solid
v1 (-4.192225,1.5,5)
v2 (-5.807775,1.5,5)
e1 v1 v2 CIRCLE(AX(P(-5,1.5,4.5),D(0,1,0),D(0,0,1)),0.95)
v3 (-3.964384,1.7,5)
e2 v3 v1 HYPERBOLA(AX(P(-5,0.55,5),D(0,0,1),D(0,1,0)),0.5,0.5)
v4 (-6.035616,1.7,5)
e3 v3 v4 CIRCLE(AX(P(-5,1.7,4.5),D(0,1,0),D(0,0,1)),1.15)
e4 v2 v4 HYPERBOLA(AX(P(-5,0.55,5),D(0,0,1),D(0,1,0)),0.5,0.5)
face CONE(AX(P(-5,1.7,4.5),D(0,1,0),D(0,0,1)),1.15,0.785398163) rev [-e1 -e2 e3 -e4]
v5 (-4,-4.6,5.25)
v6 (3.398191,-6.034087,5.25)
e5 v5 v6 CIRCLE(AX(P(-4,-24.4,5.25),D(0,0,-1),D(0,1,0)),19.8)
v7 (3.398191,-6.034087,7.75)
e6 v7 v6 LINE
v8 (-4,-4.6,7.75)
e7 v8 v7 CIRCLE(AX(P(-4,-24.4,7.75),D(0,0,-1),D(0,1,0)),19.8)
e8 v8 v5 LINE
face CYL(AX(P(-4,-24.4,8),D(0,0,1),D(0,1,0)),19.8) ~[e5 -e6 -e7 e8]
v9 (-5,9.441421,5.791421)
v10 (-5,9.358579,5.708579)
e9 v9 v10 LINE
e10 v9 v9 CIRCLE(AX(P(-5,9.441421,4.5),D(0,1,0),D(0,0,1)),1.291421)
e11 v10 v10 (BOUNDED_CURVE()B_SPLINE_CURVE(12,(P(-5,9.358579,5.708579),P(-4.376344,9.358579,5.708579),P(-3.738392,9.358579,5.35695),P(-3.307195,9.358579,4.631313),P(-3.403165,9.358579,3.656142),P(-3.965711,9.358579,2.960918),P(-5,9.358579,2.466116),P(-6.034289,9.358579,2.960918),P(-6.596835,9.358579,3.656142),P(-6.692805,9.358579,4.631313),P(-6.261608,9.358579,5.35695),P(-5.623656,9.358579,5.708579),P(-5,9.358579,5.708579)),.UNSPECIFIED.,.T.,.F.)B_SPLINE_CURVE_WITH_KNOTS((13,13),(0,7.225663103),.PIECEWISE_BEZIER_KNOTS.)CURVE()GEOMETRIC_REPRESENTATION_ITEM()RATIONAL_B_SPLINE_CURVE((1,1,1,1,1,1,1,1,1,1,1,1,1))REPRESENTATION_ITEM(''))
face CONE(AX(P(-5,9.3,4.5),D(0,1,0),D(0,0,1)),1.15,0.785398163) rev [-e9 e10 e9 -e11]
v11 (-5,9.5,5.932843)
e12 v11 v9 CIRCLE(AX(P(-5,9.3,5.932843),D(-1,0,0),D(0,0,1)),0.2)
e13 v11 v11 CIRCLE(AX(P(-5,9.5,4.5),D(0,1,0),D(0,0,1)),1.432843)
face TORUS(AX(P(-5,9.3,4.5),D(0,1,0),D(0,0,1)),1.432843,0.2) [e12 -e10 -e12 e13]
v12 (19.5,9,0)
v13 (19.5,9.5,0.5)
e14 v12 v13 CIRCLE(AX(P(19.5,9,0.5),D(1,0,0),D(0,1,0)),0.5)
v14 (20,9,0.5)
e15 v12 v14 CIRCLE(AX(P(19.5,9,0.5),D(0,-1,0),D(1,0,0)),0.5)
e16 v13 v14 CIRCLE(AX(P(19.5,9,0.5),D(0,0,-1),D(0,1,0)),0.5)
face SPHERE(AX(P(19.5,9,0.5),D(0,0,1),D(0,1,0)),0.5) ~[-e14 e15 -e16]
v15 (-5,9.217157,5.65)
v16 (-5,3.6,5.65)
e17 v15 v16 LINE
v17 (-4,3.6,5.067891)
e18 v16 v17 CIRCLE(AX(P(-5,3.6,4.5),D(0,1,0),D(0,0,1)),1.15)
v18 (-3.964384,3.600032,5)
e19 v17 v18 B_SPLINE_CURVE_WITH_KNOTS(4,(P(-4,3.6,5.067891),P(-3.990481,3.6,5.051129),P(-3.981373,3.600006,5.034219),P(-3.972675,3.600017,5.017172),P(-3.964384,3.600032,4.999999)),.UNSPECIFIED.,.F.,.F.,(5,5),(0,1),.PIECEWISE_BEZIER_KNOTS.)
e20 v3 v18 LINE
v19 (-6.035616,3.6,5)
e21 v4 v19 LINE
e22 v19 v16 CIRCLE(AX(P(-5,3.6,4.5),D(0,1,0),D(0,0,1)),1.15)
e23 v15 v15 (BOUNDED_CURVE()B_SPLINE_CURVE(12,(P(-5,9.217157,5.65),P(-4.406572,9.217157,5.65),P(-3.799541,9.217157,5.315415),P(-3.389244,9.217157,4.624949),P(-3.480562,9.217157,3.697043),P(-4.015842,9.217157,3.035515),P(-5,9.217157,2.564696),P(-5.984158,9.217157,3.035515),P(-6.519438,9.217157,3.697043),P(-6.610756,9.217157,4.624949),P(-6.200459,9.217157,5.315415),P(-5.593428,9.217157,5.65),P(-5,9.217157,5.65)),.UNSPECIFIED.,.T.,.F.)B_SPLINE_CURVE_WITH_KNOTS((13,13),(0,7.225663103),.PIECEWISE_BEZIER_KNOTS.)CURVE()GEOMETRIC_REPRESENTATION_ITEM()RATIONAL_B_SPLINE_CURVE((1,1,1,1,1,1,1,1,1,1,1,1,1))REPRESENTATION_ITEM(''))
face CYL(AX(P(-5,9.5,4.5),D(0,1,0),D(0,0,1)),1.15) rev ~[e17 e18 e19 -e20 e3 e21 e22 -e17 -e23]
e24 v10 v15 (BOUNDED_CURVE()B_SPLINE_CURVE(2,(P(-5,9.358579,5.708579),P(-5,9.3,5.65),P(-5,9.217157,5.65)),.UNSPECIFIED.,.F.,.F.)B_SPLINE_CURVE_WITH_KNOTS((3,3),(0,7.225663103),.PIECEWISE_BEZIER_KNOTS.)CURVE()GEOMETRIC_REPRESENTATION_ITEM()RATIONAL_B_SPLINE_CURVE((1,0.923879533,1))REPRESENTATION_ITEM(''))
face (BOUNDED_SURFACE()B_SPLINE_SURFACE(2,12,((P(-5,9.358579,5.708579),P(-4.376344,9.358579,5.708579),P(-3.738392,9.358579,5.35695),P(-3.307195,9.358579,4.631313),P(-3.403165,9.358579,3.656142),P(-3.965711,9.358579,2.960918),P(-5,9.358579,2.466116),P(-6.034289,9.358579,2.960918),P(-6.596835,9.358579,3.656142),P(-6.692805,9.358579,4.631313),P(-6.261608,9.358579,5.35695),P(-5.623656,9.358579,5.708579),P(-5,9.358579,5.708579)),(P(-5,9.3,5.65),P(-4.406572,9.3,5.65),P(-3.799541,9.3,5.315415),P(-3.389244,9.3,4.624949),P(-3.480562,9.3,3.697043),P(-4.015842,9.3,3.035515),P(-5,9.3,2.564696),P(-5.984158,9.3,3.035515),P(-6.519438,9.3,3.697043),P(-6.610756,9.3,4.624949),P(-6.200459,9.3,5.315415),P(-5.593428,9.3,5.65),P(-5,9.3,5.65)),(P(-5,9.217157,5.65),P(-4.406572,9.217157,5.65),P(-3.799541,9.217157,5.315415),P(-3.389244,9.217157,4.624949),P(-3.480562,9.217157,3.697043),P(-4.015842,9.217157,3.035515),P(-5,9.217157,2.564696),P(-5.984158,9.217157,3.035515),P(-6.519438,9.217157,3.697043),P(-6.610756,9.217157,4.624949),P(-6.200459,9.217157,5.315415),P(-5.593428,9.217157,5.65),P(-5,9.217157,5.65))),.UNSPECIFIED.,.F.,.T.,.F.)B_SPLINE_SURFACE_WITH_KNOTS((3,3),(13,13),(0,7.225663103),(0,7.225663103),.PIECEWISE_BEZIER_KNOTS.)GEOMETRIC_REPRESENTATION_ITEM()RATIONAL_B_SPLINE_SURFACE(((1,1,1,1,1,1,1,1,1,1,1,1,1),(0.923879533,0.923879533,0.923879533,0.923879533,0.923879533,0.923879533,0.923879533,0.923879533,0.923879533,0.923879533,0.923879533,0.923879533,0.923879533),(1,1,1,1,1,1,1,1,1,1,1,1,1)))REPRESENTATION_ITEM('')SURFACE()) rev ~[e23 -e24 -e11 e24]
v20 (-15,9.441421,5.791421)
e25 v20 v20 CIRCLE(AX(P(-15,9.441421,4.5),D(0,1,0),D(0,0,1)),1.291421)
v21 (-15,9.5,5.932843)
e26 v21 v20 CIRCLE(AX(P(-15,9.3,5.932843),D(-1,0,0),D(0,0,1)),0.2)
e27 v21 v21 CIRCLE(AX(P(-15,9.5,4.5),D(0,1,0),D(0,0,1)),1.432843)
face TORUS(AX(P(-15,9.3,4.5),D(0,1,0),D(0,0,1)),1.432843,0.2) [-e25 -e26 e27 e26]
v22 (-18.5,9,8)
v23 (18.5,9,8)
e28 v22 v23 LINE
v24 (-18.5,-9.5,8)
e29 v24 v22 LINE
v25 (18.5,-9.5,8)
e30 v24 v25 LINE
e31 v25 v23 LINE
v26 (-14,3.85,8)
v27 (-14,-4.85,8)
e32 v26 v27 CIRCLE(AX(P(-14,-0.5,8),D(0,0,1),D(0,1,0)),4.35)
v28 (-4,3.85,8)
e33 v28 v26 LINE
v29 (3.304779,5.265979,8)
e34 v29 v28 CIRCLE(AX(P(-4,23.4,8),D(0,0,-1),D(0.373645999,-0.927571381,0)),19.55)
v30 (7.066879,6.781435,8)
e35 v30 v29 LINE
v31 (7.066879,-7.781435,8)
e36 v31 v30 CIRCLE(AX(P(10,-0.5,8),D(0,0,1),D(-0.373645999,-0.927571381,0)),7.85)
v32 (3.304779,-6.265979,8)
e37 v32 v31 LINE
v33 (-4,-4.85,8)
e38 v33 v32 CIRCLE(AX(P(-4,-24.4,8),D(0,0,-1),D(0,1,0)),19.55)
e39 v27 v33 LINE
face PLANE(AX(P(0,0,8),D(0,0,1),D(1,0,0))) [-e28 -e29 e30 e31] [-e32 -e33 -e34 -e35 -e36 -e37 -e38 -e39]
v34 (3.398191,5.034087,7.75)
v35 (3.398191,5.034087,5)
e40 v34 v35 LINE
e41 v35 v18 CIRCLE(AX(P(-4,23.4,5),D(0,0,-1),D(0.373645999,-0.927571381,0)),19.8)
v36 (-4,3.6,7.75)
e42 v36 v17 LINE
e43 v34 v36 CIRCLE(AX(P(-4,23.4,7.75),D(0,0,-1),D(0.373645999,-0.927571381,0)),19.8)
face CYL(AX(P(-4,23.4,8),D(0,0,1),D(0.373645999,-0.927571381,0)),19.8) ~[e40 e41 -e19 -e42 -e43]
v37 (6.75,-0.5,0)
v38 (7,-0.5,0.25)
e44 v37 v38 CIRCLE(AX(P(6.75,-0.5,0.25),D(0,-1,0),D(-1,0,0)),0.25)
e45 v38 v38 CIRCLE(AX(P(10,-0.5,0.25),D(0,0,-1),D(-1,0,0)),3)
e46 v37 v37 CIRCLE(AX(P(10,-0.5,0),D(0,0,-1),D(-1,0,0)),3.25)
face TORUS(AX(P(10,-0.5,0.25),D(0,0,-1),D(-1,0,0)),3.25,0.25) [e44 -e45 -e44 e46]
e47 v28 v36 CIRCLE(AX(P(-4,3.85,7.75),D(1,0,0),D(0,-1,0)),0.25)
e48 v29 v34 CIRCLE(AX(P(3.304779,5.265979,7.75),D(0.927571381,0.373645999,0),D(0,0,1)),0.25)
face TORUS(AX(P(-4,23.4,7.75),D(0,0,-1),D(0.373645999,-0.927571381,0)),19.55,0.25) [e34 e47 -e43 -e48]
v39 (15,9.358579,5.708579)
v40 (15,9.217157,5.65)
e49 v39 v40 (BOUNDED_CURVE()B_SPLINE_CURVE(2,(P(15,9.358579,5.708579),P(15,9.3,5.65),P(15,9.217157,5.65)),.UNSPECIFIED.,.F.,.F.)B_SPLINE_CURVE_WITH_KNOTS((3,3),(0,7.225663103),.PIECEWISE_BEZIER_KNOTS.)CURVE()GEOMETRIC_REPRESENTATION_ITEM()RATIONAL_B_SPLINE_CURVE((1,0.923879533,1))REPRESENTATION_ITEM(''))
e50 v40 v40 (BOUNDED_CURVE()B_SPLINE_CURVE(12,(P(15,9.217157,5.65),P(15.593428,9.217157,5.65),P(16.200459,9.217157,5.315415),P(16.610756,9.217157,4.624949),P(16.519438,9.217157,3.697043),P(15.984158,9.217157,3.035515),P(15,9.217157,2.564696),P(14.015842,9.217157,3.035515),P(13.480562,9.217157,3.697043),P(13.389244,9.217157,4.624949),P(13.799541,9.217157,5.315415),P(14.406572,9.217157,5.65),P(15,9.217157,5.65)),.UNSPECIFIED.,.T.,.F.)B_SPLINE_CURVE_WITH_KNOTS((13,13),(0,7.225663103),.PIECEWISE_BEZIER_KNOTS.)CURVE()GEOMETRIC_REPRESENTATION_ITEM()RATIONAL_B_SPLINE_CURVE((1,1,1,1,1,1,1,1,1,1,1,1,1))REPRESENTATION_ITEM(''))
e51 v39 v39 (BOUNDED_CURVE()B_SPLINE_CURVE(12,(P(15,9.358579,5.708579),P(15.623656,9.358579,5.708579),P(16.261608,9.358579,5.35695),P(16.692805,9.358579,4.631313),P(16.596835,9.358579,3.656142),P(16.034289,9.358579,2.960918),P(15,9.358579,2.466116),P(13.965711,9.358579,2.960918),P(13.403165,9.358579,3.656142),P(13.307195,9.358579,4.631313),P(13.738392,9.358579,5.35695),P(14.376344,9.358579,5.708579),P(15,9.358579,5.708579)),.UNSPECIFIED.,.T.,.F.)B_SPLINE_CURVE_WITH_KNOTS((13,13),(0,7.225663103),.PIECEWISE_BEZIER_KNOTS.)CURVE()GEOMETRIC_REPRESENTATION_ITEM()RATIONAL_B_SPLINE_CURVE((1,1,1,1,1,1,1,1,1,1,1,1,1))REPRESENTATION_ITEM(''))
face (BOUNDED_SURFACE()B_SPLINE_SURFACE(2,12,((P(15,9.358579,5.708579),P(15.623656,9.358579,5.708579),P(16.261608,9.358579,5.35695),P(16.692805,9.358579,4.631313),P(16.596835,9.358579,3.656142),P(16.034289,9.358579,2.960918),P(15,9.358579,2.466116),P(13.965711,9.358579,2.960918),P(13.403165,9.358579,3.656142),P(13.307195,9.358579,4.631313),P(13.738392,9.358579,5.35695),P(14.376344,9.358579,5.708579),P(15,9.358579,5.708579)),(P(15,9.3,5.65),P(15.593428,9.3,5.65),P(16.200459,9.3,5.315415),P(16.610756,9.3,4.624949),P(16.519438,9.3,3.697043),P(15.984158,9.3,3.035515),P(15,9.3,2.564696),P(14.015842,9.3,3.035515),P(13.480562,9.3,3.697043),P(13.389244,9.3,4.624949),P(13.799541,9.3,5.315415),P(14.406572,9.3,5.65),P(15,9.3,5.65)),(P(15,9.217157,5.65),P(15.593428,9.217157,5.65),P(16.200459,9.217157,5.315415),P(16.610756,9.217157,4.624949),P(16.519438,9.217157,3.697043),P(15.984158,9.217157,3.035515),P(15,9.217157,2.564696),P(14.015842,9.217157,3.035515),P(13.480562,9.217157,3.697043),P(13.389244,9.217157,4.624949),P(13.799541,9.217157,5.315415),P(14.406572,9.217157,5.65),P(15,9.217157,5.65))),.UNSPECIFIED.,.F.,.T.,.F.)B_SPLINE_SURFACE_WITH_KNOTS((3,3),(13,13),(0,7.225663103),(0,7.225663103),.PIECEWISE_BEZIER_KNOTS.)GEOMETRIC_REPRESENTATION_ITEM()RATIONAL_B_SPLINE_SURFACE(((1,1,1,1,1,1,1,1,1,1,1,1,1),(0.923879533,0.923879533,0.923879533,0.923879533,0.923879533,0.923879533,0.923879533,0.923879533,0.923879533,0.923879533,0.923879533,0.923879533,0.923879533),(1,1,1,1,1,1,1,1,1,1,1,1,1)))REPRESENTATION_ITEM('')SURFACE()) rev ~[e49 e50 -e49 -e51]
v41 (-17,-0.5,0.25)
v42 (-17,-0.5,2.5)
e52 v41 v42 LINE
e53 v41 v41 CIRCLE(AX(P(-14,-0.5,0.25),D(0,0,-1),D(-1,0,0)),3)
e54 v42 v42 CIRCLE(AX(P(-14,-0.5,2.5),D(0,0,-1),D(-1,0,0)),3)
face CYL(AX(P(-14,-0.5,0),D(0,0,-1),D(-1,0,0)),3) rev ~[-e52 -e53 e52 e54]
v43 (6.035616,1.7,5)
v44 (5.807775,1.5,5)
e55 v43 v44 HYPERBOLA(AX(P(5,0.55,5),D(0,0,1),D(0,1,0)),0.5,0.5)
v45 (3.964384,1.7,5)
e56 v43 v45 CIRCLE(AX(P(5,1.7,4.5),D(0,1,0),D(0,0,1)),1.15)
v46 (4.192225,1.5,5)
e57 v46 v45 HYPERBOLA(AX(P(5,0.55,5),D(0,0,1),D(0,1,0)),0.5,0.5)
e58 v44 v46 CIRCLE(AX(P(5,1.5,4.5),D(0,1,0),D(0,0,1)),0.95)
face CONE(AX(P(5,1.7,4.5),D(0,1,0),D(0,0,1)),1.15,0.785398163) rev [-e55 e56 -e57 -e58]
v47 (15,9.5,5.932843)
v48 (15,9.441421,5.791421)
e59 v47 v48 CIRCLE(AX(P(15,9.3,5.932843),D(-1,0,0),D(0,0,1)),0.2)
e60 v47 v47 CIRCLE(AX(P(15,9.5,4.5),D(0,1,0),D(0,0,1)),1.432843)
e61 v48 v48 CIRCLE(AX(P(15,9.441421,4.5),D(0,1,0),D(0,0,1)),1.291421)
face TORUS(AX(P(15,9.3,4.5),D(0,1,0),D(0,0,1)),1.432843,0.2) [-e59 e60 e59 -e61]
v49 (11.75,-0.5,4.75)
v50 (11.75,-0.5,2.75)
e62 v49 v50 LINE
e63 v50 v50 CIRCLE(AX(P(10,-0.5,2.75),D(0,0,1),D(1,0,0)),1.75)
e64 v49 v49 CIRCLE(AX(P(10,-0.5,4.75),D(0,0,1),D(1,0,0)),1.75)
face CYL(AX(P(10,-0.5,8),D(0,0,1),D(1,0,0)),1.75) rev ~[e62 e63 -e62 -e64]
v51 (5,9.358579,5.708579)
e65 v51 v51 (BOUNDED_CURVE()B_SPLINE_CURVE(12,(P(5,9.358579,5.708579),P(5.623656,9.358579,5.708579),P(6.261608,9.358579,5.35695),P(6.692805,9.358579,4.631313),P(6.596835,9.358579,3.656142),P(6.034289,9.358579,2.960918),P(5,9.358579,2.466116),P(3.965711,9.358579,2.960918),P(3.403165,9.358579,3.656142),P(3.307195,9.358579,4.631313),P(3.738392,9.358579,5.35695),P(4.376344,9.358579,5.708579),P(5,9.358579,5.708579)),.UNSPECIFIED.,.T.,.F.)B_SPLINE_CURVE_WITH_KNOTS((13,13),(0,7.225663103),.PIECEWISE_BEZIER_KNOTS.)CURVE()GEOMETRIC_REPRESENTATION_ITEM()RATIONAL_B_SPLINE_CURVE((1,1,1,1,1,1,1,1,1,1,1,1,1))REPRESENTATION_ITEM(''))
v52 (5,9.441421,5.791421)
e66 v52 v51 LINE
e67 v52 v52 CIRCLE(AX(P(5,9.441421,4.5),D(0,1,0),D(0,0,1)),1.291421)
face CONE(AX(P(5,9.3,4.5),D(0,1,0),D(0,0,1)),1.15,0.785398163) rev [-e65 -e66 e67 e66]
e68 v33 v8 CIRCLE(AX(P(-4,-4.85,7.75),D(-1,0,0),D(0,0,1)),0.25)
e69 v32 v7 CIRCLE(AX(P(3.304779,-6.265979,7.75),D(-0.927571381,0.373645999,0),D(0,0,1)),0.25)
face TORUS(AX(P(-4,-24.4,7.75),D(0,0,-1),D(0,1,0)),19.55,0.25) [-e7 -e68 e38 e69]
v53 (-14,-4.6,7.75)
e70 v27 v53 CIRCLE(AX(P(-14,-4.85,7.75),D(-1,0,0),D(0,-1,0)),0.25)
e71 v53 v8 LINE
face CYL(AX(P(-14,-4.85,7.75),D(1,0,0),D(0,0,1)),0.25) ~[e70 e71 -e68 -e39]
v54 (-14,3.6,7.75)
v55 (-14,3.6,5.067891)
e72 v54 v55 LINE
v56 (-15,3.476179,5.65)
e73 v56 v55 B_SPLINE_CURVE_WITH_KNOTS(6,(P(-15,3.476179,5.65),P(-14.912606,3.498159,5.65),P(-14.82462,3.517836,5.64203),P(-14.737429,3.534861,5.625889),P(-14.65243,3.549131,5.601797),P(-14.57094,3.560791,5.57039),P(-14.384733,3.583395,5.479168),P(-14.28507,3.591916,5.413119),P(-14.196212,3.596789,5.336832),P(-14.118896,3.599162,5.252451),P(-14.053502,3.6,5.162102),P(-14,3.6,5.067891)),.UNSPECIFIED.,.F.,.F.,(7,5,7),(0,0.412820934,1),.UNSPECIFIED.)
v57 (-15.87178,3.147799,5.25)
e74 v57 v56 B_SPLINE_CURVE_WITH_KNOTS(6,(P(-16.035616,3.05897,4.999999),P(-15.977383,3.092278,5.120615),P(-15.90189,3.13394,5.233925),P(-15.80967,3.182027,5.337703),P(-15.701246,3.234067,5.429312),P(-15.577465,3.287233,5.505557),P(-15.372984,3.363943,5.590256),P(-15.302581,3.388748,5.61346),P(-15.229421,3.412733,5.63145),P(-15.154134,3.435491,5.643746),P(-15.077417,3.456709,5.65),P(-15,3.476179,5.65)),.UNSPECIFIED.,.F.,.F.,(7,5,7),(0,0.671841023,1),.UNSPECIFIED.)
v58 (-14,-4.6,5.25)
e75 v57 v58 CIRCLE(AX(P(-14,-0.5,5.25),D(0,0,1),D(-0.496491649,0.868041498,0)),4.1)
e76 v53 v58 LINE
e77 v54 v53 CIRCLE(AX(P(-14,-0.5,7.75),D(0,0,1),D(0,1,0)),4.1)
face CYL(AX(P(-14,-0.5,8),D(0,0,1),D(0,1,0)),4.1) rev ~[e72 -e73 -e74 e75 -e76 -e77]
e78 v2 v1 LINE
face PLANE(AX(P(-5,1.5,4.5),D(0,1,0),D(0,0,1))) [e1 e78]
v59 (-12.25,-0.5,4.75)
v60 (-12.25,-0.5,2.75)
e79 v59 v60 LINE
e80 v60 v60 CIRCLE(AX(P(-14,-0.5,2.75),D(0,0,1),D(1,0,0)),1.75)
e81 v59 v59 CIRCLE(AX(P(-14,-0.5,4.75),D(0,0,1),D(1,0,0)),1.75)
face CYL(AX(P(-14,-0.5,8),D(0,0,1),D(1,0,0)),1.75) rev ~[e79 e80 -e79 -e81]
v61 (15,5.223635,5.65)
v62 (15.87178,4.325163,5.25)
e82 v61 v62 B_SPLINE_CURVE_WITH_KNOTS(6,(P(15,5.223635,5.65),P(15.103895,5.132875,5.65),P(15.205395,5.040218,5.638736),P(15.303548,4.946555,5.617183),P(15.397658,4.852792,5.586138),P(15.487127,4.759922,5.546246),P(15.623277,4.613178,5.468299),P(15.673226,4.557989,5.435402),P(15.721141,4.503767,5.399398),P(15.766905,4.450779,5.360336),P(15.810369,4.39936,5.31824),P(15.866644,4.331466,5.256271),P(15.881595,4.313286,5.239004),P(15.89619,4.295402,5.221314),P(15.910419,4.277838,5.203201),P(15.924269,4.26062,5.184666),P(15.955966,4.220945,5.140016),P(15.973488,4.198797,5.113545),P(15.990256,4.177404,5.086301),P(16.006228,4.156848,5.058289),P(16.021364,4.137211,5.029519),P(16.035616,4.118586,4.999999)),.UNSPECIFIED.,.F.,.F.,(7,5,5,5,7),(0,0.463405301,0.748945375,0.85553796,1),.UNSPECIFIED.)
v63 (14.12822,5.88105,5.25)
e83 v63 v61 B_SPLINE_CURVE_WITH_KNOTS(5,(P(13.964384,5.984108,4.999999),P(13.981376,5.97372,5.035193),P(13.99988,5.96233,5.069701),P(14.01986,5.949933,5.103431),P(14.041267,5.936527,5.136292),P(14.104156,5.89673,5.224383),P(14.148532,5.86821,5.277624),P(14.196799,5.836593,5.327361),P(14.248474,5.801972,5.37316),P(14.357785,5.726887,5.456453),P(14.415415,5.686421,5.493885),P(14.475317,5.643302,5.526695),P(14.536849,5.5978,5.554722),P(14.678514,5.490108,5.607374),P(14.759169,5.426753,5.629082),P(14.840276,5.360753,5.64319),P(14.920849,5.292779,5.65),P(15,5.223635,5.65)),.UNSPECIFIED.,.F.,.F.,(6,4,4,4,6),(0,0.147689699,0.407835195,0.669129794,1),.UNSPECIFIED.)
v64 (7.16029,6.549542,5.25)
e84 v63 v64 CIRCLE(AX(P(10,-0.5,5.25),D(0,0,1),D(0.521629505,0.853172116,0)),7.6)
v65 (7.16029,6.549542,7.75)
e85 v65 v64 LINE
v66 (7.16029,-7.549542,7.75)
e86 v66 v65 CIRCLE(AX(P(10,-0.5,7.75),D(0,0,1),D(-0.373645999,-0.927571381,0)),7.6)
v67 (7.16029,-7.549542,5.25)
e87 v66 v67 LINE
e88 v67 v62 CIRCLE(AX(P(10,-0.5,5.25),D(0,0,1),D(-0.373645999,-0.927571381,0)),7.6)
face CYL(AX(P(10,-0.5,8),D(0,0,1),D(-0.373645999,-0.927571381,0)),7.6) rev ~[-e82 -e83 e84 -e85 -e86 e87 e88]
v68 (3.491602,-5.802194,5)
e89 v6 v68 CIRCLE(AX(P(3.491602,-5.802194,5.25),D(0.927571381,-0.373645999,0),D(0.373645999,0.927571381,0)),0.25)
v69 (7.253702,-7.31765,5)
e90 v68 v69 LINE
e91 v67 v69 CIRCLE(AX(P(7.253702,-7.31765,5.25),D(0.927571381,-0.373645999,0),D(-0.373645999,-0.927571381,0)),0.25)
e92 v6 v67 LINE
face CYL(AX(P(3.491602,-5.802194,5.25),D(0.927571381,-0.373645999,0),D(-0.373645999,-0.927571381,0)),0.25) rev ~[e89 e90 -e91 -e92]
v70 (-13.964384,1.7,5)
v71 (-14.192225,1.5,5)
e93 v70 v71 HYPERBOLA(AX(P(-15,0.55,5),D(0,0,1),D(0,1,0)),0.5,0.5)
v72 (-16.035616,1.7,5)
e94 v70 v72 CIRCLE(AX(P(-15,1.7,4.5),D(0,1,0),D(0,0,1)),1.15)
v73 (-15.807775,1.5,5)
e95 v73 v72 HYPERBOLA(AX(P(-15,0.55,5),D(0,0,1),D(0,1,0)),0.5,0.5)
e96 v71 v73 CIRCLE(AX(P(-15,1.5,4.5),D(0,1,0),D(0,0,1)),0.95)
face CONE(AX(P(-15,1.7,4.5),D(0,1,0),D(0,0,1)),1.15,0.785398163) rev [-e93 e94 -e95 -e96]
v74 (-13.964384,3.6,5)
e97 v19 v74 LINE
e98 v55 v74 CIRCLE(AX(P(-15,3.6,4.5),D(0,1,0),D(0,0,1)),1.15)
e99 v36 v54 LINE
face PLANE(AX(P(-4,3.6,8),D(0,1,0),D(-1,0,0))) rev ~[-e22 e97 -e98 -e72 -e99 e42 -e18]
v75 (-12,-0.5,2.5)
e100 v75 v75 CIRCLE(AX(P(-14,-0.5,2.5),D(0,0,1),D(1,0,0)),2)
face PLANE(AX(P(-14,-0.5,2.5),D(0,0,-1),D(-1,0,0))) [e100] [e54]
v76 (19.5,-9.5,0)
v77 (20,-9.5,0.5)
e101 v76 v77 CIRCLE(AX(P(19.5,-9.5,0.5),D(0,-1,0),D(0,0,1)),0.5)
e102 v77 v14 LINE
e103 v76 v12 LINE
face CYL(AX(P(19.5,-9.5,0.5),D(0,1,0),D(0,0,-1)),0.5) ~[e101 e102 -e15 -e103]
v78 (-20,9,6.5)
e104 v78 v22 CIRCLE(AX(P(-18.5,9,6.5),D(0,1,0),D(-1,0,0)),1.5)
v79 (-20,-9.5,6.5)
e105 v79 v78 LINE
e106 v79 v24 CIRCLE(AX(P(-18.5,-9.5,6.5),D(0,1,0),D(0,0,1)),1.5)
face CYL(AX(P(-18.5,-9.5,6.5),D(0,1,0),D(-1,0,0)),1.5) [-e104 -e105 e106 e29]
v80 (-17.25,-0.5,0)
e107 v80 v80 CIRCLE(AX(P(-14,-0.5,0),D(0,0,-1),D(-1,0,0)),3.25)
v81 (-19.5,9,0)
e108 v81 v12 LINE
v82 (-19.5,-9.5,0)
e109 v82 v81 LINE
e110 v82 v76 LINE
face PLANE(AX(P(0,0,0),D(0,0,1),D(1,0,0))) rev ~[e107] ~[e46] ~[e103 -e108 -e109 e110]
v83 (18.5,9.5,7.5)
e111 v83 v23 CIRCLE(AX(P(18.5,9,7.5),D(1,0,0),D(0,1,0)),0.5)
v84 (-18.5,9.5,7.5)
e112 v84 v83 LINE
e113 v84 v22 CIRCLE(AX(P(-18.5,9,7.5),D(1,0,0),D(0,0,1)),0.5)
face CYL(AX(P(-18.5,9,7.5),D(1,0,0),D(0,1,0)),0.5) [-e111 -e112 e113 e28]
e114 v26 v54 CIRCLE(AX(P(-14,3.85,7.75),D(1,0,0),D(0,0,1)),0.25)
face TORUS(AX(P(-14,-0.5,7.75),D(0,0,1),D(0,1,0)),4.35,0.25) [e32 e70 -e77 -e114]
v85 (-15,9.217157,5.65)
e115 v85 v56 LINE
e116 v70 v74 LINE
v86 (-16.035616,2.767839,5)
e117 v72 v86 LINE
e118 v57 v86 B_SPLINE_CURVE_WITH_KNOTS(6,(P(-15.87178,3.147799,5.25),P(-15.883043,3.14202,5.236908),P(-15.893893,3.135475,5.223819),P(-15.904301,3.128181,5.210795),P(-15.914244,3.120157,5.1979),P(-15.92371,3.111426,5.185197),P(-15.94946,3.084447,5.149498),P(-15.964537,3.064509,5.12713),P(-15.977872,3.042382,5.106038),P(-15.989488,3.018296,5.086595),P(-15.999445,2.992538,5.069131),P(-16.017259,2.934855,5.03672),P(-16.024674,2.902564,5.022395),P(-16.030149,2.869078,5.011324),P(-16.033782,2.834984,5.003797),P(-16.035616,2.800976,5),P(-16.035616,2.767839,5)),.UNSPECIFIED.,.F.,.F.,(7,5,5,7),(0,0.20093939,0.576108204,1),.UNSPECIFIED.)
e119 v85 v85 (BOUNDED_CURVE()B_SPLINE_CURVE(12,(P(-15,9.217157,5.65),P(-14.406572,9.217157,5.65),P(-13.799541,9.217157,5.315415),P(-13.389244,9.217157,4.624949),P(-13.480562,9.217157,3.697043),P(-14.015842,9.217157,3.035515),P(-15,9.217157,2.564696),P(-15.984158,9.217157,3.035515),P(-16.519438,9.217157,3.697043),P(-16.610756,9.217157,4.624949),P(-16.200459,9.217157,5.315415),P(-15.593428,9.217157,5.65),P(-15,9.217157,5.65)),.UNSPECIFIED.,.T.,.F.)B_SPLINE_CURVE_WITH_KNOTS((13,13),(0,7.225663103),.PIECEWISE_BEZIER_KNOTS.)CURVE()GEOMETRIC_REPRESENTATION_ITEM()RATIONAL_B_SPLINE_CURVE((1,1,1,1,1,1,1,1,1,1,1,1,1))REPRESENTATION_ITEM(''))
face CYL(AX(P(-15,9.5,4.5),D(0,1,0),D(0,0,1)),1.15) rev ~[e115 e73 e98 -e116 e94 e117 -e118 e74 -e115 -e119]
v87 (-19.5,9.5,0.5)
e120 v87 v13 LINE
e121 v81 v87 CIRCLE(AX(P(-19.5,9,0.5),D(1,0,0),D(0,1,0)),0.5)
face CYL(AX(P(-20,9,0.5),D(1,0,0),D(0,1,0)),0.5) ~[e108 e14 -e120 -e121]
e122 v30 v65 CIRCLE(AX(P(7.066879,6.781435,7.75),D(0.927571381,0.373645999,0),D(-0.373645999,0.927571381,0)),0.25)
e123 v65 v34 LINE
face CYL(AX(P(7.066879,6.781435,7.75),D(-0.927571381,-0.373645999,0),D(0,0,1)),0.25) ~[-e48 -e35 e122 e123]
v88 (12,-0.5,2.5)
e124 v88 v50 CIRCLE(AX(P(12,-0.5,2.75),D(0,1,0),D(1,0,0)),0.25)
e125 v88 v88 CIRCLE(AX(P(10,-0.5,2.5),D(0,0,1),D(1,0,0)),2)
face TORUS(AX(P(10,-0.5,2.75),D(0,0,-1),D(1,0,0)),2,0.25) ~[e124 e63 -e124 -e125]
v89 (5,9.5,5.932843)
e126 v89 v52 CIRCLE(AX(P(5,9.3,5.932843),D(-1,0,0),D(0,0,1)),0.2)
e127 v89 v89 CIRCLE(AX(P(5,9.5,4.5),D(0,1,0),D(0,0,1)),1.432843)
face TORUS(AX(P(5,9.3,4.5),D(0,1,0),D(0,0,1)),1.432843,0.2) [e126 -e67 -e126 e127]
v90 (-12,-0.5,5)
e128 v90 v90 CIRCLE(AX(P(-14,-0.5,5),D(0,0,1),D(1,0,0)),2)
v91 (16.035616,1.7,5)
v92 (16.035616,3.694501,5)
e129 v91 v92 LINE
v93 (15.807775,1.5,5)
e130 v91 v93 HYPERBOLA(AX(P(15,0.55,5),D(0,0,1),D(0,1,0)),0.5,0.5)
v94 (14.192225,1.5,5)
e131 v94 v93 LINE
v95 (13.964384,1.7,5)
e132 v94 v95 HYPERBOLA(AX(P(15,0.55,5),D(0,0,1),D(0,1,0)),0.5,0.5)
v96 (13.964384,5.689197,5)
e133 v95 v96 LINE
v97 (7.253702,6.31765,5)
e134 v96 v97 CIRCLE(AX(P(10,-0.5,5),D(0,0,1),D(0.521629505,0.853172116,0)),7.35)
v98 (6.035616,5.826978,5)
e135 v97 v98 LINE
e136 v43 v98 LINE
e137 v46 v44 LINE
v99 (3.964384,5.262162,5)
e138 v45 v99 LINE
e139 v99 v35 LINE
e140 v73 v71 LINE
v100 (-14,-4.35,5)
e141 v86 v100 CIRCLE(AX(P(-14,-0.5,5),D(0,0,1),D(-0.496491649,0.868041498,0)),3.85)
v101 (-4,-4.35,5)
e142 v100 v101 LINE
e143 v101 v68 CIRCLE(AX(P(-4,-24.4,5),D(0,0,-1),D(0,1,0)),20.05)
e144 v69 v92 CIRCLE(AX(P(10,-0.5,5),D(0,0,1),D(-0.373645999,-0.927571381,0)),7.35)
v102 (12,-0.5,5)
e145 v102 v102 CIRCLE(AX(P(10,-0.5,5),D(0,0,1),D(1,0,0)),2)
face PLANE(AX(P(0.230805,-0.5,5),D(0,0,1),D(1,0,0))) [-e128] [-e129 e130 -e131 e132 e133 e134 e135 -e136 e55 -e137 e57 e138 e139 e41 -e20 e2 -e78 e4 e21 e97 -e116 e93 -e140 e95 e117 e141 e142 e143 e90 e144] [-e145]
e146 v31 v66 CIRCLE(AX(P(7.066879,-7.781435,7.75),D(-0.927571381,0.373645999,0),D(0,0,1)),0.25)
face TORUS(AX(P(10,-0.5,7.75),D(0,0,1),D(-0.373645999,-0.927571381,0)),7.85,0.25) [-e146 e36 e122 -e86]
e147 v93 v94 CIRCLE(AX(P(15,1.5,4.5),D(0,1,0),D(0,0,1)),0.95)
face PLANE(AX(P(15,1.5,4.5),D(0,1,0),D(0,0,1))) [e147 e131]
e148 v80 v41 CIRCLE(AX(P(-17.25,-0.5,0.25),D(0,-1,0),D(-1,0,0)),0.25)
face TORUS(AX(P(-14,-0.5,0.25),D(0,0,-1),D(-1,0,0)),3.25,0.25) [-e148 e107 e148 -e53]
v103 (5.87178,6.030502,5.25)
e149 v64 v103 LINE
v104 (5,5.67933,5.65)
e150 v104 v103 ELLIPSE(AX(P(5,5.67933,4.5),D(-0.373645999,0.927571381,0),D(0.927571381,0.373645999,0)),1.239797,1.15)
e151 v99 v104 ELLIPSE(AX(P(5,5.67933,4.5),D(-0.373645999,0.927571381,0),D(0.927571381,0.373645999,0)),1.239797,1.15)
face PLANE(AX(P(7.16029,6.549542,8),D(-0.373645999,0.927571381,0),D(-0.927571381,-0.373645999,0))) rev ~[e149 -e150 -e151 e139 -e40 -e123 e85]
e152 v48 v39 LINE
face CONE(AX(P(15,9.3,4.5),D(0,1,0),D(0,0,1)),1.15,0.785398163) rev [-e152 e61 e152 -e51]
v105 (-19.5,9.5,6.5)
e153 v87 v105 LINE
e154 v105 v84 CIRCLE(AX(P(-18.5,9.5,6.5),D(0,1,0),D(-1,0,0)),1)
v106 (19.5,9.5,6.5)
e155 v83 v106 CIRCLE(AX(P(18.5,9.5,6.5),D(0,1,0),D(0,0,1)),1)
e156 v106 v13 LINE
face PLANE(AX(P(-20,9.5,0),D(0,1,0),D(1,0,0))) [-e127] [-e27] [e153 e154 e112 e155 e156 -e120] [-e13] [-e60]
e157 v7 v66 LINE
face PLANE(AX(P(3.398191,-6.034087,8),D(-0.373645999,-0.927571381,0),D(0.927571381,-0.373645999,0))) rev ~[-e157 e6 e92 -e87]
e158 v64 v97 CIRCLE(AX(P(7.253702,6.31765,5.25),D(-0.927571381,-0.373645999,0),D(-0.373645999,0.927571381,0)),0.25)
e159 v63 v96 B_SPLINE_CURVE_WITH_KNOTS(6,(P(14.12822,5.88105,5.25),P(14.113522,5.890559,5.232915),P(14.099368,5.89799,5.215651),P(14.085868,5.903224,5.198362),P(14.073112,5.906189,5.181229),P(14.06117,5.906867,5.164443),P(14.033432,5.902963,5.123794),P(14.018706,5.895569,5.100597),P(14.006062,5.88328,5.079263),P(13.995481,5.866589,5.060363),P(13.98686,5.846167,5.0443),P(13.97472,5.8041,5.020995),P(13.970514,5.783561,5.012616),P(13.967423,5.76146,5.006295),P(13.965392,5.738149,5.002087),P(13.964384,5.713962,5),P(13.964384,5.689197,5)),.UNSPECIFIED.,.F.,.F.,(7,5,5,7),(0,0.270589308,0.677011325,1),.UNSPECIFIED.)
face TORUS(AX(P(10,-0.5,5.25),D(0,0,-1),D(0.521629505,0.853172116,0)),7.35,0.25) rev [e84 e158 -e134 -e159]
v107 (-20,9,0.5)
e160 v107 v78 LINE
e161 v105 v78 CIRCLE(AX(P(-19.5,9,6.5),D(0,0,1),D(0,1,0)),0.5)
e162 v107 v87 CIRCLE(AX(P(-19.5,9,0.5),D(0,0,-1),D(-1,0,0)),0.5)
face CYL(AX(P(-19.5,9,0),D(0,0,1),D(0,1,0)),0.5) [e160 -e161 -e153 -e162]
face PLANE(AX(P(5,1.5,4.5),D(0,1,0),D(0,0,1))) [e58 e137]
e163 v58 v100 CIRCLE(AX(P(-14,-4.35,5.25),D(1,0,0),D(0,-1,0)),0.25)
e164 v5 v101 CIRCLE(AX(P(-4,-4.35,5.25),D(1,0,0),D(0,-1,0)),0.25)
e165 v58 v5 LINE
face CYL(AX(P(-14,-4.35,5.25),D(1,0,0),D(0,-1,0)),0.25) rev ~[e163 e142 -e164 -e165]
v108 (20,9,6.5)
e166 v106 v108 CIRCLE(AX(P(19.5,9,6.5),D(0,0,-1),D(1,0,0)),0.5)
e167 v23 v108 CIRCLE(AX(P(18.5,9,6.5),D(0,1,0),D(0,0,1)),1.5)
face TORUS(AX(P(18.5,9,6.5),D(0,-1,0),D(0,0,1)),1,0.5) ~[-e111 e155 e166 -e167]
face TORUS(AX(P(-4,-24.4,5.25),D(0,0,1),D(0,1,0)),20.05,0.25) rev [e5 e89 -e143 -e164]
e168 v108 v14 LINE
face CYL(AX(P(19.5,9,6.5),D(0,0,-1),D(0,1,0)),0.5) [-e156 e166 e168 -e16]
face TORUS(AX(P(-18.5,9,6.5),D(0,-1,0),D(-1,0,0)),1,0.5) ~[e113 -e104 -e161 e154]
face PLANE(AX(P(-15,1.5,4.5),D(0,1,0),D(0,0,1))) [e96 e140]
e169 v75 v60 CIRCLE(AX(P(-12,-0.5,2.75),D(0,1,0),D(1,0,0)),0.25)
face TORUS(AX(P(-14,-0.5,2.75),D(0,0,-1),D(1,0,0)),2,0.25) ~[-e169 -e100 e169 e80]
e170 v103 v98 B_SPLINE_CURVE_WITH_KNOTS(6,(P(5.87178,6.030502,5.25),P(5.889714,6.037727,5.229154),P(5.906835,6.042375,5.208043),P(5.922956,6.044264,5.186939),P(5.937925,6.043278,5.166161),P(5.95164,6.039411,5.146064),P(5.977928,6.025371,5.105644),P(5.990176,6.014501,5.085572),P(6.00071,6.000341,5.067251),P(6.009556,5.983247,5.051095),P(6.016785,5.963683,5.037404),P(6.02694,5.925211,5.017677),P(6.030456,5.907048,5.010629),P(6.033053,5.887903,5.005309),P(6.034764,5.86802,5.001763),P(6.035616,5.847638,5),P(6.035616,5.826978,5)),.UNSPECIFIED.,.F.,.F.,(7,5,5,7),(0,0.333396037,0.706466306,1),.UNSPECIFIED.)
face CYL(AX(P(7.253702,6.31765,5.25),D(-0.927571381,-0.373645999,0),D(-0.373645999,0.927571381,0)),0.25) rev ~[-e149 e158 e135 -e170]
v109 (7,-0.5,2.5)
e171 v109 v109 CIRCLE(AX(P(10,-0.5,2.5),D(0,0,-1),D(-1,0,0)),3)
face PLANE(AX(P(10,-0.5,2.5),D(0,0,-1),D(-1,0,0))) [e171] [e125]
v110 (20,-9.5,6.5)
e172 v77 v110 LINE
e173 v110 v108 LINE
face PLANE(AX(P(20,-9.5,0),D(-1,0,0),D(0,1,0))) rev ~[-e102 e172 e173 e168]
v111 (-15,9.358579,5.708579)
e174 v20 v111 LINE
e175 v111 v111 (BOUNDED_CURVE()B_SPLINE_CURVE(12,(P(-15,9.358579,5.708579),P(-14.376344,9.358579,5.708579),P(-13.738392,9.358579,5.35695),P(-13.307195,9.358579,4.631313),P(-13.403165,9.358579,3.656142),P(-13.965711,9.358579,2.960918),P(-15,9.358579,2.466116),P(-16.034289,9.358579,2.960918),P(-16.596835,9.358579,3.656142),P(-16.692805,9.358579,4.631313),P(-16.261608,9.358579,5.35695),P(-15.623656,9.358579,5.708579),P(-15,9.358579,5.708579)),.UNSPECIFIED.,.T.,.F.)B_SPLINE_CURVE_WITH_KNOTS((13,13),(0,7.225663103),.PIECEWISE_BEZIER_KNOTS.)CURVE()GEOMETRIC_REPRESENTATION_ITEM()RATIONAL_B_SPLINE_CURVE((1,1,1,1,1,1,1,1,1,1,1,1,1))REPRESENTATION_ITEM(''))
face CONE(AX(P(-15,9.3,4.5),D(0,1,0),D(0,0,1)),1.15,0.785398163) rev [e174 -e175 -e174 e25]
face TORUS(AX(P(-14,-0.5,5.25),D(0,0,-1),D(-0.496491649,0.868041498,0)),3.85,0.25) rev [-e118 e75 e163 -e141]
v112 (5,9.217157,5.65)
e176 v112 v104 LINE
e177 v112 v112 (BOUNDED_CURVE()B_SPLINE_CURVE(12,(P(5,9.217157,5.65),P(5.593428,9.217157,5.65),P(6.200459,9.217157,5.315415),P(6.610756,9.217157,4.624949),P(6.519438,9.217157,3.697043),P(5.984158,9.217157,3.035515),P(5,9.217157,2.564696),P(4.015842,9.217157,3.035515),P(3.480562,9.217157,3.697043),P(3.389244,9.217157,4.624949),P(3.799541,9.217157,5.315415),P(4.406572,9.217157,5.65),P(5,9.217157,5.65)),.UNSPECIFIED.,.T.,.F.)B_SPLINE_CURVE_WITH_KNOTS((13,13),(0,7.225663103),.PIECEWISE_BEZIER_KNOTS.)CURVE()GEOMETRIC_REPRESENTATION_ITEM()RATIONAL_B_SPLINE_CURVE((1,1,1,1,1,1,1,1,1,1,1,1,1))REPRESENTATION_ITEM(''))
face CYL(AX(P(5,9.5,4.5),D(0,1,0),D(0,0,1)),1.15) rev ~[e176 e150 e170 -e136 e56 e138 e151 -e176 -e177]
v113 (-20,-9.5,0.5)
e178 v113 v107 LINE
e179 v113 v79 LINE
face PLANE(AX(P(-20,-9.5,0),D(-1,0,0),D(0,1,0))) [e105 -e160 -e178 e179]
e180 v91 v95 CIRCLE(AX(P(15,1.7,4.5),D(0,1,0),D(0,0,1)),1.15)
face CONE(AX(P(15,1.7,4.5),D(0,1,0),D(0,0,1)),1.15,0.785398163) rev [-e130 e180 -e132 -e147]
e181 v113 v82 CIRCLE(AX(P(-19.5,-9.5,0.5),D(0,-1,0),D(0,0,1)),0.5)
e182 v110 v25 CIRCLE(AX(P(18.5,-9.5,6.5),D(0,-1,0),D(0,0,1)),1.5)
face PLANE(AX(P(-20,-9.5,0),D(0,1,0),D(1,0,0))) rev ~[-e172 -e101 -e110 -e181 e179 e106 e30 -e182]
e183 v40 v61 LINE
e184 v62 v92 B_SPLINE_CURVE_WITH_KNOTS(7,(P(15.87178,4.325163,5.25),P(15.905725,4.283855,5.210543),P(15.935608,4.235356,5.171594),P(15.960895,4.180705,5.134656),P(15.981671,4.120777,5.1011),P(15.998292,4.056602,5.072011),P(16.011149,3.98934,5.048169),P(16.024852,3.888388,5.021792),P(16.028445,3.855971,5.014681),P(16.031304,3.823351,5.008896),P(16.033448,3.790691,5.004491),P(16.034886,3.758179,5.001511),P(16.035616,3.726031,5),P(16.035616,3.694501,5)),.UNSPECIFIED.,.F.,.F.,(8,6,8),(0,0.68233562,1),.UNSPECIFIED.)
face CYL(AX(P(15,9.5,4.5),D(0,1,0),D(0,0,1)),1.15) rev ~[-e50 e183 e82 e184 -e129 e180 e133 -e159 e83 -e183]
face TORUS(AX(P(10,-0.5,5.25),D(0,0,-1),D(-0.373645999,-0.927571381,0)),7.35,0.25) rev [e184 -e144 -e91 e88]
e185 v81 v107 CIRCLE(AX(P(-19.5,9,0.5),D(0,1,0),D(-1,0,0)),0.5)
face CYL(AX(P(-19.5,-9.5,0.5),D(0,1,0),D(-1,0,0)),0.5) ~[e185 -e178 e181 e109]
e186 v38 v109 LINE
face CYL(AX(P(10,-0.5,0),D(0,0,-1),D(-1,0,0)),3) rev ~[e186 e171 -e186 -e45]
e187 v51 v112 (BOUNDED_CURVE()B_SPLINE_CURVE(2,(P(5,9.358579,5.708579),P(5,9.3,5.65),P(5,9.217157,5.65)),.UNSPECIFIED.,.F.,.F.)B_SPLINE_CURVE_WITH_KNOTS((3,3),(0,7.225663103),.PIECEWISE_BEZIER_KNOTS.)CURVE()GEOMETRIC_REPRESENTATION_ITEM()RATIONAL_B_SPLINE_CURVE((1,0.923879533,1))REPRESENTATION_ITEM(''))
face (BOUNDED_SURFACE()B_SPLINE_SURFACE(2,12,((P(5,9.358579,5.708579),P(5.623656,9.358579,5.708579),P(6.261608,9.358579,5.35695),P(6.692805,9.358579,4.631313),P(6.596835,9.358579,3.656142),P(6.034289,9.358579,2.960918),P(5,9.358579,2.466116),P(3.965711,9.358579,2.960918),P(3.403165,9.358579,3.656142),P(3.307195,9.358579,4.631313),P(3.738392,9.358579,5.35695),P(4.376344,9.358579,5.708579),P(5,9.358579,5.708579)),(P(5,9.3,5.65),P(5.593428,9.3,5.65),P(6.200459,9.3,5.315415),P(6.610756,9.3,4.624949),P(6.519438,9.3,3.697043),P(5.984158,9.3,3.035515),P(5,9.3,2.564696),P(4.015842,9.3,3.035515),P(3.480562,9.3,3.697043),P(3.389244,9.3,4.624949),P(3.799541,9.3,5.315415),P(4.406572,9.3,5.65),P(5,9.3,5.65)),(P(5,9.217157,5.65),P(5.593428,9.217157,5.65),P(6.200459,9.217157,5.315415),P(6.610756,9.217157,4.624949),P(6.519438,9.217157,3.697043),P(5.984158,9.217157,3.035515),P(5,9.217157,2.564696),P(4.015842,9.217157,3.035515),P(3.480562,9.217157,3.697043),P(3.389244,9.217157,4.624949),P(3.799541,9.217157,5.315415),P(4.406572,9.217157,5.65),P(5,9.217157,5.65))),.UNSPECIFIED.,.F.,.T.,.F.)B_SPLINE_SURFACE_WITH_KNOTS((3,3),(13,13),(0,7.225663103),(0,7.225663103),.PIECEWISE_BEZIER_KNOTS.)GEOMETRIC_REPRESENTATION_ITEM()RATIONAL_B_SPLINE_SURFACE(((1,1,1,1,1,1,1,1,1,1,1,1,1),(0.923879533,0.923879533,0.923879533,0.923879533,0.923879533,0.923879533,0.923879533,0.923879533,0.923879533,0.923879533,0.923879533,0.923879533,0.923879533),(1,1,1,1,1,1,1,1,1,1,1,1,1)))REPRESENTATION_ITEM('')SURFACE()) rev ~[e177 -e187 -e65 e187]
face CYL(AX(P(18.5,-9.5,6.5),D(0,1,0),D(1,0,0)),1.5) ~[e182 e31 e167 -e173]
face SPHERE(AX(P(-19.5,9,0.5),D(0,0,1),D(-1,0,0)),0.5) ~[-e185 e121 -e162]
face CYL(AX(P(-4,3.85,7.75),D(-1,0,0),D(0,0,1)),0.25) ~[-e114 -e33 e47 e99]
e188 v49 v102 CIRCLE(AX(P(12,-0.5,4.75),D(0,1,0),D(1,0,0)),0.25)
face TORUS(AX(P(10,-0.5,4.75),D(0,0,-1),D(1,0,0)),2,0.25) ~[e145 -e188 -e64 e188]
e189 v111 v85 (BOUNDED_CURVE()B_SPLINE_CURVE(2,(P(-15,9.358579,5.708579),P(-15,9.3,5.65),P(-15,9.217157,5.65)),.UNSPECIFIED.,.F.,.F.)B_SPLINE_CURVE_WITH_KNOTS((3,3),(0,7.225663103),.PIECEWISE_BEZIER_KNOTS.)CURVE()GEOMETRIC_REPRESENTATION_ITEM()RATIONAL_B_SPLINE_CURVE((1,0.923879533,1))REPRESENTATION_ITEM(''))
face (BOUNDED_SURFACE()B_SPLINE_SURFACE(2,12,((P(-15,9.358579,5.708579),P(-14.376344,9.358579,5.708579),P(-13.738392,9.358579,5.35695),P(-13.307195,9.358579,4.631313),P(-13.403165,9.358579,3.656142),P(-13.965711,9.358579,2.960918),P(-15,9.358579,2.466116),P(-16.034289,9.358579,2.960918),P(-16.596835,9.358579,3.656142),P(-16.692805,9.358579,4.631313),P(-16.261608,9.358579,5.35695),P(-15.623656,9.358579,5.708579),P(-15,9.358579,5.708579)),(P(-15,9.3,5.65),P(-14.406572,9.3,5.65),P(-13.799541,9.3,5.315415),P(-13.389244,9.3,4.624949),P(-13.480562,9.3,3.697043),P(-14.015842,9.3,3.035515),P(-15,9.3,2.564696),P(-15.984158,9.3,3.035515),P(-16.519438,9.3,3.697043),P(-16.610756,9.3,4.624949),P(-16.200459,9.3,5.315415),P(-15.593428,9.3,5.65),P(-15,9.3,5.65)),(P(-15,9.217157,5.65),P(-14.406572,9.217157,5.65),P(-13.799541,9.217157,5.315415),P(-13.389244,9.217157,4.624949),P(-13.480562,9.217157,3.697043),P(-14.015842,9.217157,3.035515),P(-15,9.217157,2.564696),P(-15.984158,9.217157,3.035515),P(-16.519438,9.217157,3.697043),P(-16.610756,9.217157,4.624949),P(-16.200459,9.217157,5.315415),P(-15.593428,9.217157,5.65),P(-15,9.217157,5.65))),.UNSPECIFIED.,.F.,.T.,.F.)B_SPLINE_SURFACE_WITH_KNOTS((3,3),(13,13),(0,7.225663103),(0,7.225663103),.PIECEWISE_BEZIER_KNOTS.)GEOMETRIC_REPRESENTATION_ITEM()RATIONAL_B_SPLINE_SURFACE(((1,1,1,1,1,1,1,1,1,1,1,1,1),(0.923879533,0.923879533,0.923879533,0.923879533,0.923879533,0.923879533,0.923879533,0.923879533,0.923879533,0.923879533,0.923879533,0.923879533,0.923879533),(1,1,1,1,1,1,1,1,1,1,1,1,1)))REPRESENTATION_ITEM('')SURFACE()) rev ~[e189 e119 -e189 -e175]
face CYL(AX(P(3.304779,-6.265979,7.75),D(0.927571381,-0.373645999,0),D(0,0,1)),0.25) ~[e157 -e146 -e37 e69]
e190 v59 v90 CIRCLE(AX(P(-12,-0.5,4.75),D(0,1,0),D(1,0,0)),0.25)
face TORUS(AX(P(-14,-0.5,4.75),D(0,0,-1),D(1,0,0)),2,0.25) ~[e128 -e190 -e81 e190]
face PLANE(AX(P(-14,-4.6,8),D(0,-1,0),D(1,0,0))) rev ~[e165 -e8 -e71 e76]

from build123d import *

# Parameters (mm, degrees)
SKETCH2_W           = 40
SKETCH2_H           = 19
BOSS_EXTRUDE1_DEPTH = 8
FILLET1_R           = 1.5
SKETCH5_R           = 1.15
CUT_EXTRUDE3_DEPTH  = 8
CHAMFER1_SIZE       = 0.2
FILLET3_R           = 0.2
FILLET2_R           = 0.5
SKETCH6_R           = 1.75
CUT_EXTRUDE4_DEPTH  = 24.542514734
SKETCH7_R           = 3
CUT_EXTRUDE5_DEPTH  = 2.5
CUT_EXTRUDE6_DEPTH  = 3
FILLET5_R           = 0.25
FILLET6_R           = 0.25


with BuildPart() as part:
    # Sketch2 → Boss-Extrude1 (new body)
    with BuildSketch(Plane.XY):
        Rectangle(SKETCH2_W, SKETCH2_H)
    extrude(amount=BOSS_EXTRUDE1_DEPTH)

    # Fillet1
    fillet1_edges = [part.edges().sort_by_distance(p)[0] for p in [
        (-20, 0, 8),
        (20, 0, 8),
    ]]
    fillet(fillet1_edges, radius=FILLET1_R)

    # Sketch5 → Cut-Extrude3 (cut)
    with BuildSketch(Plane(origin=(0, 9.5, 0), x_dir=(1, 0, 0), z_dir=(0, 1, 0))):
        with Locations(Location((-15, -4.5, 0), (0, 0, 270))):
            Circle(SKETCH5_R)
        with Locations(Location((-5, -4.5, 0), (0, 0, 270))):
            Circle(SKETCH5_R)
        with Locations(Location((5, -4.5, 0), (0, 0, 270))):
            Circle(SKETCH5_R)
        with Locations(Location((15, -4.5, 0), (0, 0, 270))):
            Circle(SKETCH5_R)
    extrude(amount=-CUT_EXTRUDE3_DEPTH, mode=Mode.SUBTRACT)

    # Chamfer1
    chamfer1_edges = [part.edges().sort_by_distance(p)[0] for p in [
        (-15, 1.5, 3.35),
        (-15, 9.5, 3.35),
        (-5, 1.5, 3.35),
        (-5, 9.5, 3.35),
        (5, 1.5, 3.35),
        (5, 9.5, 3.35),
        (15, 1.5, 3.35),
        (15, 9.5, 3.35),
    ]]
    chamfer(chamfer1_edges, length=CHAMFER1_SIZE)

    # Fillet3
    fillet3_edges = [part.edges().sort_by_distance(p)[0] for p in [
        (15, 9.3, 3.35),
        (-15, 9.5, 3.15),
        (-5, 9.5, 3.15),
        (5, 9.5, 3.15),
        (15, 9.5, 3.15),
        (5, 9.3, 3.35),
        (-5, 9.3, 3.35),
        (-15, 9.3, 3.35),
    ]]
    fillet(fillet3_edges, radius=FILLET3_R)

    # Fillet2
    fillet2_edges = [part.edges().sort_by_distance(p)[0] for p in [
        (0, 9.5, 8),
        (-20, 9.5, 3.25),
        (20, 9.5, 3.25),
        (-19.560660172, 9.5, 7.560660172),
        (19.560660172, 9.5, 7.560660172),
        (-20, 0, 0),
        (0, 9.5, 0),
        (20, 0, 0),
    ]]
    fillet(fillet2_edges, radius=FILLET2_R)

    # Sketch6 → Cut-Extrude4 (cut, through all)
    with BuildSketch(Plane.XY.offset(8)):
        with Locations((-14, -0.5)):
            Circle(SKETCH6_R)
        with Locations((10, -0.5)):
            Circle(SKETCH6_R)
    extrude(amount=-CUT_EXTRUDE4_DEPTH, mode=Mode.SUBTRACT)

    # Sketch7 → Cut-Extrude5 (cut)
    with BuildSketch(Plane(origin=(0, 0, 0), x_dir=(-1, 0, 0), z_dir=(0, 0, -1))):
        with Locations((-10, -0.5)):
            Circle(SKETCH7_R)
        with Locations((14, -0.5)):
            Circle(SKETCH7_R)
    extrude(amount=-CUT_EXTRUDE5_DEPTH, mode=Mode.SUBTRACT)

    # Sketch8 → Cut-Extrude6 (cut)
    with BuildSketch(Plane.XY.offset(8)):
        with BuildLine():
            Line((-14, -4.6), (-4, -4.6))
            ThreePointArc((-4, -4.6), (-0.232048588, -4.961827705), (3.398190783, -6.034086651))
            Line((3.398190783, -6.034086651), (7.160290407, -7.549542498))
            ThreePointArc((7.160290407, -7.549542498), (17.6, -0.5), (7.160290407, 6.549542498))
            Line((7.160290407, 6.549542498), (3.398190783, 5.034086651))
            ThreePointArc((3.398190783, 5.034086651), (-0.232048588, 3.961827705), (-4, 3.6))
            Line((-4, 3.6), (-14, 3.6))
            ThreePointArc((-14, 3.6), (-18.1, -0.5), (-14, -4.6))
        make_face()
    extrude(amount=-CUT_EXTRUDE6_DEPTH, mode=Mode.SUBTRACT)

    # Fillet5
    fillet5_edges = [part.edges().sort_by_distance(p)[0] for p in [
        (-11, -0.5, 0),
        (13, -0.5, 0),
        (-17.962434705, -1.553143488, 5),
        (-9, -4.6, 5),
        (-0.232048588, -4.961827705, 5),
        (5.279240595, -6.791814574, 5),
        (6.597953083, 6.323020749, 5),
        (5.279240595, -6.791814574, 8),
        (-0.232048588, -4.961827705, 8),
        (-9, -4.6, 8),
        (-18.1, -0.5, 8),
        (-9, 3.6, 8),
        (-0.232048588, 3.961827705, 8),
        (5.279240595, 5.791814574, 8),
        (16.048947293, -5.101112544, 5),
        (10.629406296, 7.073892507, 5),
        (17.6, -0.5, 8),
    ]]
    fillet(fillet5_edges, radius=FILLET5_R)

    # Fillet6
    fillet6_edges = [part.edges().sort_by_distance(p)[0] for p in [
        (8.25, -0.5, 2.5),
        (-15.75, -0.5, 2.5),
        (-15.75, -0.5, 5),
        (8.25, -0.5, 5),
    ]]
    fillet(fillet6_edges, radius=FILLET6_R)


solid = part.part
